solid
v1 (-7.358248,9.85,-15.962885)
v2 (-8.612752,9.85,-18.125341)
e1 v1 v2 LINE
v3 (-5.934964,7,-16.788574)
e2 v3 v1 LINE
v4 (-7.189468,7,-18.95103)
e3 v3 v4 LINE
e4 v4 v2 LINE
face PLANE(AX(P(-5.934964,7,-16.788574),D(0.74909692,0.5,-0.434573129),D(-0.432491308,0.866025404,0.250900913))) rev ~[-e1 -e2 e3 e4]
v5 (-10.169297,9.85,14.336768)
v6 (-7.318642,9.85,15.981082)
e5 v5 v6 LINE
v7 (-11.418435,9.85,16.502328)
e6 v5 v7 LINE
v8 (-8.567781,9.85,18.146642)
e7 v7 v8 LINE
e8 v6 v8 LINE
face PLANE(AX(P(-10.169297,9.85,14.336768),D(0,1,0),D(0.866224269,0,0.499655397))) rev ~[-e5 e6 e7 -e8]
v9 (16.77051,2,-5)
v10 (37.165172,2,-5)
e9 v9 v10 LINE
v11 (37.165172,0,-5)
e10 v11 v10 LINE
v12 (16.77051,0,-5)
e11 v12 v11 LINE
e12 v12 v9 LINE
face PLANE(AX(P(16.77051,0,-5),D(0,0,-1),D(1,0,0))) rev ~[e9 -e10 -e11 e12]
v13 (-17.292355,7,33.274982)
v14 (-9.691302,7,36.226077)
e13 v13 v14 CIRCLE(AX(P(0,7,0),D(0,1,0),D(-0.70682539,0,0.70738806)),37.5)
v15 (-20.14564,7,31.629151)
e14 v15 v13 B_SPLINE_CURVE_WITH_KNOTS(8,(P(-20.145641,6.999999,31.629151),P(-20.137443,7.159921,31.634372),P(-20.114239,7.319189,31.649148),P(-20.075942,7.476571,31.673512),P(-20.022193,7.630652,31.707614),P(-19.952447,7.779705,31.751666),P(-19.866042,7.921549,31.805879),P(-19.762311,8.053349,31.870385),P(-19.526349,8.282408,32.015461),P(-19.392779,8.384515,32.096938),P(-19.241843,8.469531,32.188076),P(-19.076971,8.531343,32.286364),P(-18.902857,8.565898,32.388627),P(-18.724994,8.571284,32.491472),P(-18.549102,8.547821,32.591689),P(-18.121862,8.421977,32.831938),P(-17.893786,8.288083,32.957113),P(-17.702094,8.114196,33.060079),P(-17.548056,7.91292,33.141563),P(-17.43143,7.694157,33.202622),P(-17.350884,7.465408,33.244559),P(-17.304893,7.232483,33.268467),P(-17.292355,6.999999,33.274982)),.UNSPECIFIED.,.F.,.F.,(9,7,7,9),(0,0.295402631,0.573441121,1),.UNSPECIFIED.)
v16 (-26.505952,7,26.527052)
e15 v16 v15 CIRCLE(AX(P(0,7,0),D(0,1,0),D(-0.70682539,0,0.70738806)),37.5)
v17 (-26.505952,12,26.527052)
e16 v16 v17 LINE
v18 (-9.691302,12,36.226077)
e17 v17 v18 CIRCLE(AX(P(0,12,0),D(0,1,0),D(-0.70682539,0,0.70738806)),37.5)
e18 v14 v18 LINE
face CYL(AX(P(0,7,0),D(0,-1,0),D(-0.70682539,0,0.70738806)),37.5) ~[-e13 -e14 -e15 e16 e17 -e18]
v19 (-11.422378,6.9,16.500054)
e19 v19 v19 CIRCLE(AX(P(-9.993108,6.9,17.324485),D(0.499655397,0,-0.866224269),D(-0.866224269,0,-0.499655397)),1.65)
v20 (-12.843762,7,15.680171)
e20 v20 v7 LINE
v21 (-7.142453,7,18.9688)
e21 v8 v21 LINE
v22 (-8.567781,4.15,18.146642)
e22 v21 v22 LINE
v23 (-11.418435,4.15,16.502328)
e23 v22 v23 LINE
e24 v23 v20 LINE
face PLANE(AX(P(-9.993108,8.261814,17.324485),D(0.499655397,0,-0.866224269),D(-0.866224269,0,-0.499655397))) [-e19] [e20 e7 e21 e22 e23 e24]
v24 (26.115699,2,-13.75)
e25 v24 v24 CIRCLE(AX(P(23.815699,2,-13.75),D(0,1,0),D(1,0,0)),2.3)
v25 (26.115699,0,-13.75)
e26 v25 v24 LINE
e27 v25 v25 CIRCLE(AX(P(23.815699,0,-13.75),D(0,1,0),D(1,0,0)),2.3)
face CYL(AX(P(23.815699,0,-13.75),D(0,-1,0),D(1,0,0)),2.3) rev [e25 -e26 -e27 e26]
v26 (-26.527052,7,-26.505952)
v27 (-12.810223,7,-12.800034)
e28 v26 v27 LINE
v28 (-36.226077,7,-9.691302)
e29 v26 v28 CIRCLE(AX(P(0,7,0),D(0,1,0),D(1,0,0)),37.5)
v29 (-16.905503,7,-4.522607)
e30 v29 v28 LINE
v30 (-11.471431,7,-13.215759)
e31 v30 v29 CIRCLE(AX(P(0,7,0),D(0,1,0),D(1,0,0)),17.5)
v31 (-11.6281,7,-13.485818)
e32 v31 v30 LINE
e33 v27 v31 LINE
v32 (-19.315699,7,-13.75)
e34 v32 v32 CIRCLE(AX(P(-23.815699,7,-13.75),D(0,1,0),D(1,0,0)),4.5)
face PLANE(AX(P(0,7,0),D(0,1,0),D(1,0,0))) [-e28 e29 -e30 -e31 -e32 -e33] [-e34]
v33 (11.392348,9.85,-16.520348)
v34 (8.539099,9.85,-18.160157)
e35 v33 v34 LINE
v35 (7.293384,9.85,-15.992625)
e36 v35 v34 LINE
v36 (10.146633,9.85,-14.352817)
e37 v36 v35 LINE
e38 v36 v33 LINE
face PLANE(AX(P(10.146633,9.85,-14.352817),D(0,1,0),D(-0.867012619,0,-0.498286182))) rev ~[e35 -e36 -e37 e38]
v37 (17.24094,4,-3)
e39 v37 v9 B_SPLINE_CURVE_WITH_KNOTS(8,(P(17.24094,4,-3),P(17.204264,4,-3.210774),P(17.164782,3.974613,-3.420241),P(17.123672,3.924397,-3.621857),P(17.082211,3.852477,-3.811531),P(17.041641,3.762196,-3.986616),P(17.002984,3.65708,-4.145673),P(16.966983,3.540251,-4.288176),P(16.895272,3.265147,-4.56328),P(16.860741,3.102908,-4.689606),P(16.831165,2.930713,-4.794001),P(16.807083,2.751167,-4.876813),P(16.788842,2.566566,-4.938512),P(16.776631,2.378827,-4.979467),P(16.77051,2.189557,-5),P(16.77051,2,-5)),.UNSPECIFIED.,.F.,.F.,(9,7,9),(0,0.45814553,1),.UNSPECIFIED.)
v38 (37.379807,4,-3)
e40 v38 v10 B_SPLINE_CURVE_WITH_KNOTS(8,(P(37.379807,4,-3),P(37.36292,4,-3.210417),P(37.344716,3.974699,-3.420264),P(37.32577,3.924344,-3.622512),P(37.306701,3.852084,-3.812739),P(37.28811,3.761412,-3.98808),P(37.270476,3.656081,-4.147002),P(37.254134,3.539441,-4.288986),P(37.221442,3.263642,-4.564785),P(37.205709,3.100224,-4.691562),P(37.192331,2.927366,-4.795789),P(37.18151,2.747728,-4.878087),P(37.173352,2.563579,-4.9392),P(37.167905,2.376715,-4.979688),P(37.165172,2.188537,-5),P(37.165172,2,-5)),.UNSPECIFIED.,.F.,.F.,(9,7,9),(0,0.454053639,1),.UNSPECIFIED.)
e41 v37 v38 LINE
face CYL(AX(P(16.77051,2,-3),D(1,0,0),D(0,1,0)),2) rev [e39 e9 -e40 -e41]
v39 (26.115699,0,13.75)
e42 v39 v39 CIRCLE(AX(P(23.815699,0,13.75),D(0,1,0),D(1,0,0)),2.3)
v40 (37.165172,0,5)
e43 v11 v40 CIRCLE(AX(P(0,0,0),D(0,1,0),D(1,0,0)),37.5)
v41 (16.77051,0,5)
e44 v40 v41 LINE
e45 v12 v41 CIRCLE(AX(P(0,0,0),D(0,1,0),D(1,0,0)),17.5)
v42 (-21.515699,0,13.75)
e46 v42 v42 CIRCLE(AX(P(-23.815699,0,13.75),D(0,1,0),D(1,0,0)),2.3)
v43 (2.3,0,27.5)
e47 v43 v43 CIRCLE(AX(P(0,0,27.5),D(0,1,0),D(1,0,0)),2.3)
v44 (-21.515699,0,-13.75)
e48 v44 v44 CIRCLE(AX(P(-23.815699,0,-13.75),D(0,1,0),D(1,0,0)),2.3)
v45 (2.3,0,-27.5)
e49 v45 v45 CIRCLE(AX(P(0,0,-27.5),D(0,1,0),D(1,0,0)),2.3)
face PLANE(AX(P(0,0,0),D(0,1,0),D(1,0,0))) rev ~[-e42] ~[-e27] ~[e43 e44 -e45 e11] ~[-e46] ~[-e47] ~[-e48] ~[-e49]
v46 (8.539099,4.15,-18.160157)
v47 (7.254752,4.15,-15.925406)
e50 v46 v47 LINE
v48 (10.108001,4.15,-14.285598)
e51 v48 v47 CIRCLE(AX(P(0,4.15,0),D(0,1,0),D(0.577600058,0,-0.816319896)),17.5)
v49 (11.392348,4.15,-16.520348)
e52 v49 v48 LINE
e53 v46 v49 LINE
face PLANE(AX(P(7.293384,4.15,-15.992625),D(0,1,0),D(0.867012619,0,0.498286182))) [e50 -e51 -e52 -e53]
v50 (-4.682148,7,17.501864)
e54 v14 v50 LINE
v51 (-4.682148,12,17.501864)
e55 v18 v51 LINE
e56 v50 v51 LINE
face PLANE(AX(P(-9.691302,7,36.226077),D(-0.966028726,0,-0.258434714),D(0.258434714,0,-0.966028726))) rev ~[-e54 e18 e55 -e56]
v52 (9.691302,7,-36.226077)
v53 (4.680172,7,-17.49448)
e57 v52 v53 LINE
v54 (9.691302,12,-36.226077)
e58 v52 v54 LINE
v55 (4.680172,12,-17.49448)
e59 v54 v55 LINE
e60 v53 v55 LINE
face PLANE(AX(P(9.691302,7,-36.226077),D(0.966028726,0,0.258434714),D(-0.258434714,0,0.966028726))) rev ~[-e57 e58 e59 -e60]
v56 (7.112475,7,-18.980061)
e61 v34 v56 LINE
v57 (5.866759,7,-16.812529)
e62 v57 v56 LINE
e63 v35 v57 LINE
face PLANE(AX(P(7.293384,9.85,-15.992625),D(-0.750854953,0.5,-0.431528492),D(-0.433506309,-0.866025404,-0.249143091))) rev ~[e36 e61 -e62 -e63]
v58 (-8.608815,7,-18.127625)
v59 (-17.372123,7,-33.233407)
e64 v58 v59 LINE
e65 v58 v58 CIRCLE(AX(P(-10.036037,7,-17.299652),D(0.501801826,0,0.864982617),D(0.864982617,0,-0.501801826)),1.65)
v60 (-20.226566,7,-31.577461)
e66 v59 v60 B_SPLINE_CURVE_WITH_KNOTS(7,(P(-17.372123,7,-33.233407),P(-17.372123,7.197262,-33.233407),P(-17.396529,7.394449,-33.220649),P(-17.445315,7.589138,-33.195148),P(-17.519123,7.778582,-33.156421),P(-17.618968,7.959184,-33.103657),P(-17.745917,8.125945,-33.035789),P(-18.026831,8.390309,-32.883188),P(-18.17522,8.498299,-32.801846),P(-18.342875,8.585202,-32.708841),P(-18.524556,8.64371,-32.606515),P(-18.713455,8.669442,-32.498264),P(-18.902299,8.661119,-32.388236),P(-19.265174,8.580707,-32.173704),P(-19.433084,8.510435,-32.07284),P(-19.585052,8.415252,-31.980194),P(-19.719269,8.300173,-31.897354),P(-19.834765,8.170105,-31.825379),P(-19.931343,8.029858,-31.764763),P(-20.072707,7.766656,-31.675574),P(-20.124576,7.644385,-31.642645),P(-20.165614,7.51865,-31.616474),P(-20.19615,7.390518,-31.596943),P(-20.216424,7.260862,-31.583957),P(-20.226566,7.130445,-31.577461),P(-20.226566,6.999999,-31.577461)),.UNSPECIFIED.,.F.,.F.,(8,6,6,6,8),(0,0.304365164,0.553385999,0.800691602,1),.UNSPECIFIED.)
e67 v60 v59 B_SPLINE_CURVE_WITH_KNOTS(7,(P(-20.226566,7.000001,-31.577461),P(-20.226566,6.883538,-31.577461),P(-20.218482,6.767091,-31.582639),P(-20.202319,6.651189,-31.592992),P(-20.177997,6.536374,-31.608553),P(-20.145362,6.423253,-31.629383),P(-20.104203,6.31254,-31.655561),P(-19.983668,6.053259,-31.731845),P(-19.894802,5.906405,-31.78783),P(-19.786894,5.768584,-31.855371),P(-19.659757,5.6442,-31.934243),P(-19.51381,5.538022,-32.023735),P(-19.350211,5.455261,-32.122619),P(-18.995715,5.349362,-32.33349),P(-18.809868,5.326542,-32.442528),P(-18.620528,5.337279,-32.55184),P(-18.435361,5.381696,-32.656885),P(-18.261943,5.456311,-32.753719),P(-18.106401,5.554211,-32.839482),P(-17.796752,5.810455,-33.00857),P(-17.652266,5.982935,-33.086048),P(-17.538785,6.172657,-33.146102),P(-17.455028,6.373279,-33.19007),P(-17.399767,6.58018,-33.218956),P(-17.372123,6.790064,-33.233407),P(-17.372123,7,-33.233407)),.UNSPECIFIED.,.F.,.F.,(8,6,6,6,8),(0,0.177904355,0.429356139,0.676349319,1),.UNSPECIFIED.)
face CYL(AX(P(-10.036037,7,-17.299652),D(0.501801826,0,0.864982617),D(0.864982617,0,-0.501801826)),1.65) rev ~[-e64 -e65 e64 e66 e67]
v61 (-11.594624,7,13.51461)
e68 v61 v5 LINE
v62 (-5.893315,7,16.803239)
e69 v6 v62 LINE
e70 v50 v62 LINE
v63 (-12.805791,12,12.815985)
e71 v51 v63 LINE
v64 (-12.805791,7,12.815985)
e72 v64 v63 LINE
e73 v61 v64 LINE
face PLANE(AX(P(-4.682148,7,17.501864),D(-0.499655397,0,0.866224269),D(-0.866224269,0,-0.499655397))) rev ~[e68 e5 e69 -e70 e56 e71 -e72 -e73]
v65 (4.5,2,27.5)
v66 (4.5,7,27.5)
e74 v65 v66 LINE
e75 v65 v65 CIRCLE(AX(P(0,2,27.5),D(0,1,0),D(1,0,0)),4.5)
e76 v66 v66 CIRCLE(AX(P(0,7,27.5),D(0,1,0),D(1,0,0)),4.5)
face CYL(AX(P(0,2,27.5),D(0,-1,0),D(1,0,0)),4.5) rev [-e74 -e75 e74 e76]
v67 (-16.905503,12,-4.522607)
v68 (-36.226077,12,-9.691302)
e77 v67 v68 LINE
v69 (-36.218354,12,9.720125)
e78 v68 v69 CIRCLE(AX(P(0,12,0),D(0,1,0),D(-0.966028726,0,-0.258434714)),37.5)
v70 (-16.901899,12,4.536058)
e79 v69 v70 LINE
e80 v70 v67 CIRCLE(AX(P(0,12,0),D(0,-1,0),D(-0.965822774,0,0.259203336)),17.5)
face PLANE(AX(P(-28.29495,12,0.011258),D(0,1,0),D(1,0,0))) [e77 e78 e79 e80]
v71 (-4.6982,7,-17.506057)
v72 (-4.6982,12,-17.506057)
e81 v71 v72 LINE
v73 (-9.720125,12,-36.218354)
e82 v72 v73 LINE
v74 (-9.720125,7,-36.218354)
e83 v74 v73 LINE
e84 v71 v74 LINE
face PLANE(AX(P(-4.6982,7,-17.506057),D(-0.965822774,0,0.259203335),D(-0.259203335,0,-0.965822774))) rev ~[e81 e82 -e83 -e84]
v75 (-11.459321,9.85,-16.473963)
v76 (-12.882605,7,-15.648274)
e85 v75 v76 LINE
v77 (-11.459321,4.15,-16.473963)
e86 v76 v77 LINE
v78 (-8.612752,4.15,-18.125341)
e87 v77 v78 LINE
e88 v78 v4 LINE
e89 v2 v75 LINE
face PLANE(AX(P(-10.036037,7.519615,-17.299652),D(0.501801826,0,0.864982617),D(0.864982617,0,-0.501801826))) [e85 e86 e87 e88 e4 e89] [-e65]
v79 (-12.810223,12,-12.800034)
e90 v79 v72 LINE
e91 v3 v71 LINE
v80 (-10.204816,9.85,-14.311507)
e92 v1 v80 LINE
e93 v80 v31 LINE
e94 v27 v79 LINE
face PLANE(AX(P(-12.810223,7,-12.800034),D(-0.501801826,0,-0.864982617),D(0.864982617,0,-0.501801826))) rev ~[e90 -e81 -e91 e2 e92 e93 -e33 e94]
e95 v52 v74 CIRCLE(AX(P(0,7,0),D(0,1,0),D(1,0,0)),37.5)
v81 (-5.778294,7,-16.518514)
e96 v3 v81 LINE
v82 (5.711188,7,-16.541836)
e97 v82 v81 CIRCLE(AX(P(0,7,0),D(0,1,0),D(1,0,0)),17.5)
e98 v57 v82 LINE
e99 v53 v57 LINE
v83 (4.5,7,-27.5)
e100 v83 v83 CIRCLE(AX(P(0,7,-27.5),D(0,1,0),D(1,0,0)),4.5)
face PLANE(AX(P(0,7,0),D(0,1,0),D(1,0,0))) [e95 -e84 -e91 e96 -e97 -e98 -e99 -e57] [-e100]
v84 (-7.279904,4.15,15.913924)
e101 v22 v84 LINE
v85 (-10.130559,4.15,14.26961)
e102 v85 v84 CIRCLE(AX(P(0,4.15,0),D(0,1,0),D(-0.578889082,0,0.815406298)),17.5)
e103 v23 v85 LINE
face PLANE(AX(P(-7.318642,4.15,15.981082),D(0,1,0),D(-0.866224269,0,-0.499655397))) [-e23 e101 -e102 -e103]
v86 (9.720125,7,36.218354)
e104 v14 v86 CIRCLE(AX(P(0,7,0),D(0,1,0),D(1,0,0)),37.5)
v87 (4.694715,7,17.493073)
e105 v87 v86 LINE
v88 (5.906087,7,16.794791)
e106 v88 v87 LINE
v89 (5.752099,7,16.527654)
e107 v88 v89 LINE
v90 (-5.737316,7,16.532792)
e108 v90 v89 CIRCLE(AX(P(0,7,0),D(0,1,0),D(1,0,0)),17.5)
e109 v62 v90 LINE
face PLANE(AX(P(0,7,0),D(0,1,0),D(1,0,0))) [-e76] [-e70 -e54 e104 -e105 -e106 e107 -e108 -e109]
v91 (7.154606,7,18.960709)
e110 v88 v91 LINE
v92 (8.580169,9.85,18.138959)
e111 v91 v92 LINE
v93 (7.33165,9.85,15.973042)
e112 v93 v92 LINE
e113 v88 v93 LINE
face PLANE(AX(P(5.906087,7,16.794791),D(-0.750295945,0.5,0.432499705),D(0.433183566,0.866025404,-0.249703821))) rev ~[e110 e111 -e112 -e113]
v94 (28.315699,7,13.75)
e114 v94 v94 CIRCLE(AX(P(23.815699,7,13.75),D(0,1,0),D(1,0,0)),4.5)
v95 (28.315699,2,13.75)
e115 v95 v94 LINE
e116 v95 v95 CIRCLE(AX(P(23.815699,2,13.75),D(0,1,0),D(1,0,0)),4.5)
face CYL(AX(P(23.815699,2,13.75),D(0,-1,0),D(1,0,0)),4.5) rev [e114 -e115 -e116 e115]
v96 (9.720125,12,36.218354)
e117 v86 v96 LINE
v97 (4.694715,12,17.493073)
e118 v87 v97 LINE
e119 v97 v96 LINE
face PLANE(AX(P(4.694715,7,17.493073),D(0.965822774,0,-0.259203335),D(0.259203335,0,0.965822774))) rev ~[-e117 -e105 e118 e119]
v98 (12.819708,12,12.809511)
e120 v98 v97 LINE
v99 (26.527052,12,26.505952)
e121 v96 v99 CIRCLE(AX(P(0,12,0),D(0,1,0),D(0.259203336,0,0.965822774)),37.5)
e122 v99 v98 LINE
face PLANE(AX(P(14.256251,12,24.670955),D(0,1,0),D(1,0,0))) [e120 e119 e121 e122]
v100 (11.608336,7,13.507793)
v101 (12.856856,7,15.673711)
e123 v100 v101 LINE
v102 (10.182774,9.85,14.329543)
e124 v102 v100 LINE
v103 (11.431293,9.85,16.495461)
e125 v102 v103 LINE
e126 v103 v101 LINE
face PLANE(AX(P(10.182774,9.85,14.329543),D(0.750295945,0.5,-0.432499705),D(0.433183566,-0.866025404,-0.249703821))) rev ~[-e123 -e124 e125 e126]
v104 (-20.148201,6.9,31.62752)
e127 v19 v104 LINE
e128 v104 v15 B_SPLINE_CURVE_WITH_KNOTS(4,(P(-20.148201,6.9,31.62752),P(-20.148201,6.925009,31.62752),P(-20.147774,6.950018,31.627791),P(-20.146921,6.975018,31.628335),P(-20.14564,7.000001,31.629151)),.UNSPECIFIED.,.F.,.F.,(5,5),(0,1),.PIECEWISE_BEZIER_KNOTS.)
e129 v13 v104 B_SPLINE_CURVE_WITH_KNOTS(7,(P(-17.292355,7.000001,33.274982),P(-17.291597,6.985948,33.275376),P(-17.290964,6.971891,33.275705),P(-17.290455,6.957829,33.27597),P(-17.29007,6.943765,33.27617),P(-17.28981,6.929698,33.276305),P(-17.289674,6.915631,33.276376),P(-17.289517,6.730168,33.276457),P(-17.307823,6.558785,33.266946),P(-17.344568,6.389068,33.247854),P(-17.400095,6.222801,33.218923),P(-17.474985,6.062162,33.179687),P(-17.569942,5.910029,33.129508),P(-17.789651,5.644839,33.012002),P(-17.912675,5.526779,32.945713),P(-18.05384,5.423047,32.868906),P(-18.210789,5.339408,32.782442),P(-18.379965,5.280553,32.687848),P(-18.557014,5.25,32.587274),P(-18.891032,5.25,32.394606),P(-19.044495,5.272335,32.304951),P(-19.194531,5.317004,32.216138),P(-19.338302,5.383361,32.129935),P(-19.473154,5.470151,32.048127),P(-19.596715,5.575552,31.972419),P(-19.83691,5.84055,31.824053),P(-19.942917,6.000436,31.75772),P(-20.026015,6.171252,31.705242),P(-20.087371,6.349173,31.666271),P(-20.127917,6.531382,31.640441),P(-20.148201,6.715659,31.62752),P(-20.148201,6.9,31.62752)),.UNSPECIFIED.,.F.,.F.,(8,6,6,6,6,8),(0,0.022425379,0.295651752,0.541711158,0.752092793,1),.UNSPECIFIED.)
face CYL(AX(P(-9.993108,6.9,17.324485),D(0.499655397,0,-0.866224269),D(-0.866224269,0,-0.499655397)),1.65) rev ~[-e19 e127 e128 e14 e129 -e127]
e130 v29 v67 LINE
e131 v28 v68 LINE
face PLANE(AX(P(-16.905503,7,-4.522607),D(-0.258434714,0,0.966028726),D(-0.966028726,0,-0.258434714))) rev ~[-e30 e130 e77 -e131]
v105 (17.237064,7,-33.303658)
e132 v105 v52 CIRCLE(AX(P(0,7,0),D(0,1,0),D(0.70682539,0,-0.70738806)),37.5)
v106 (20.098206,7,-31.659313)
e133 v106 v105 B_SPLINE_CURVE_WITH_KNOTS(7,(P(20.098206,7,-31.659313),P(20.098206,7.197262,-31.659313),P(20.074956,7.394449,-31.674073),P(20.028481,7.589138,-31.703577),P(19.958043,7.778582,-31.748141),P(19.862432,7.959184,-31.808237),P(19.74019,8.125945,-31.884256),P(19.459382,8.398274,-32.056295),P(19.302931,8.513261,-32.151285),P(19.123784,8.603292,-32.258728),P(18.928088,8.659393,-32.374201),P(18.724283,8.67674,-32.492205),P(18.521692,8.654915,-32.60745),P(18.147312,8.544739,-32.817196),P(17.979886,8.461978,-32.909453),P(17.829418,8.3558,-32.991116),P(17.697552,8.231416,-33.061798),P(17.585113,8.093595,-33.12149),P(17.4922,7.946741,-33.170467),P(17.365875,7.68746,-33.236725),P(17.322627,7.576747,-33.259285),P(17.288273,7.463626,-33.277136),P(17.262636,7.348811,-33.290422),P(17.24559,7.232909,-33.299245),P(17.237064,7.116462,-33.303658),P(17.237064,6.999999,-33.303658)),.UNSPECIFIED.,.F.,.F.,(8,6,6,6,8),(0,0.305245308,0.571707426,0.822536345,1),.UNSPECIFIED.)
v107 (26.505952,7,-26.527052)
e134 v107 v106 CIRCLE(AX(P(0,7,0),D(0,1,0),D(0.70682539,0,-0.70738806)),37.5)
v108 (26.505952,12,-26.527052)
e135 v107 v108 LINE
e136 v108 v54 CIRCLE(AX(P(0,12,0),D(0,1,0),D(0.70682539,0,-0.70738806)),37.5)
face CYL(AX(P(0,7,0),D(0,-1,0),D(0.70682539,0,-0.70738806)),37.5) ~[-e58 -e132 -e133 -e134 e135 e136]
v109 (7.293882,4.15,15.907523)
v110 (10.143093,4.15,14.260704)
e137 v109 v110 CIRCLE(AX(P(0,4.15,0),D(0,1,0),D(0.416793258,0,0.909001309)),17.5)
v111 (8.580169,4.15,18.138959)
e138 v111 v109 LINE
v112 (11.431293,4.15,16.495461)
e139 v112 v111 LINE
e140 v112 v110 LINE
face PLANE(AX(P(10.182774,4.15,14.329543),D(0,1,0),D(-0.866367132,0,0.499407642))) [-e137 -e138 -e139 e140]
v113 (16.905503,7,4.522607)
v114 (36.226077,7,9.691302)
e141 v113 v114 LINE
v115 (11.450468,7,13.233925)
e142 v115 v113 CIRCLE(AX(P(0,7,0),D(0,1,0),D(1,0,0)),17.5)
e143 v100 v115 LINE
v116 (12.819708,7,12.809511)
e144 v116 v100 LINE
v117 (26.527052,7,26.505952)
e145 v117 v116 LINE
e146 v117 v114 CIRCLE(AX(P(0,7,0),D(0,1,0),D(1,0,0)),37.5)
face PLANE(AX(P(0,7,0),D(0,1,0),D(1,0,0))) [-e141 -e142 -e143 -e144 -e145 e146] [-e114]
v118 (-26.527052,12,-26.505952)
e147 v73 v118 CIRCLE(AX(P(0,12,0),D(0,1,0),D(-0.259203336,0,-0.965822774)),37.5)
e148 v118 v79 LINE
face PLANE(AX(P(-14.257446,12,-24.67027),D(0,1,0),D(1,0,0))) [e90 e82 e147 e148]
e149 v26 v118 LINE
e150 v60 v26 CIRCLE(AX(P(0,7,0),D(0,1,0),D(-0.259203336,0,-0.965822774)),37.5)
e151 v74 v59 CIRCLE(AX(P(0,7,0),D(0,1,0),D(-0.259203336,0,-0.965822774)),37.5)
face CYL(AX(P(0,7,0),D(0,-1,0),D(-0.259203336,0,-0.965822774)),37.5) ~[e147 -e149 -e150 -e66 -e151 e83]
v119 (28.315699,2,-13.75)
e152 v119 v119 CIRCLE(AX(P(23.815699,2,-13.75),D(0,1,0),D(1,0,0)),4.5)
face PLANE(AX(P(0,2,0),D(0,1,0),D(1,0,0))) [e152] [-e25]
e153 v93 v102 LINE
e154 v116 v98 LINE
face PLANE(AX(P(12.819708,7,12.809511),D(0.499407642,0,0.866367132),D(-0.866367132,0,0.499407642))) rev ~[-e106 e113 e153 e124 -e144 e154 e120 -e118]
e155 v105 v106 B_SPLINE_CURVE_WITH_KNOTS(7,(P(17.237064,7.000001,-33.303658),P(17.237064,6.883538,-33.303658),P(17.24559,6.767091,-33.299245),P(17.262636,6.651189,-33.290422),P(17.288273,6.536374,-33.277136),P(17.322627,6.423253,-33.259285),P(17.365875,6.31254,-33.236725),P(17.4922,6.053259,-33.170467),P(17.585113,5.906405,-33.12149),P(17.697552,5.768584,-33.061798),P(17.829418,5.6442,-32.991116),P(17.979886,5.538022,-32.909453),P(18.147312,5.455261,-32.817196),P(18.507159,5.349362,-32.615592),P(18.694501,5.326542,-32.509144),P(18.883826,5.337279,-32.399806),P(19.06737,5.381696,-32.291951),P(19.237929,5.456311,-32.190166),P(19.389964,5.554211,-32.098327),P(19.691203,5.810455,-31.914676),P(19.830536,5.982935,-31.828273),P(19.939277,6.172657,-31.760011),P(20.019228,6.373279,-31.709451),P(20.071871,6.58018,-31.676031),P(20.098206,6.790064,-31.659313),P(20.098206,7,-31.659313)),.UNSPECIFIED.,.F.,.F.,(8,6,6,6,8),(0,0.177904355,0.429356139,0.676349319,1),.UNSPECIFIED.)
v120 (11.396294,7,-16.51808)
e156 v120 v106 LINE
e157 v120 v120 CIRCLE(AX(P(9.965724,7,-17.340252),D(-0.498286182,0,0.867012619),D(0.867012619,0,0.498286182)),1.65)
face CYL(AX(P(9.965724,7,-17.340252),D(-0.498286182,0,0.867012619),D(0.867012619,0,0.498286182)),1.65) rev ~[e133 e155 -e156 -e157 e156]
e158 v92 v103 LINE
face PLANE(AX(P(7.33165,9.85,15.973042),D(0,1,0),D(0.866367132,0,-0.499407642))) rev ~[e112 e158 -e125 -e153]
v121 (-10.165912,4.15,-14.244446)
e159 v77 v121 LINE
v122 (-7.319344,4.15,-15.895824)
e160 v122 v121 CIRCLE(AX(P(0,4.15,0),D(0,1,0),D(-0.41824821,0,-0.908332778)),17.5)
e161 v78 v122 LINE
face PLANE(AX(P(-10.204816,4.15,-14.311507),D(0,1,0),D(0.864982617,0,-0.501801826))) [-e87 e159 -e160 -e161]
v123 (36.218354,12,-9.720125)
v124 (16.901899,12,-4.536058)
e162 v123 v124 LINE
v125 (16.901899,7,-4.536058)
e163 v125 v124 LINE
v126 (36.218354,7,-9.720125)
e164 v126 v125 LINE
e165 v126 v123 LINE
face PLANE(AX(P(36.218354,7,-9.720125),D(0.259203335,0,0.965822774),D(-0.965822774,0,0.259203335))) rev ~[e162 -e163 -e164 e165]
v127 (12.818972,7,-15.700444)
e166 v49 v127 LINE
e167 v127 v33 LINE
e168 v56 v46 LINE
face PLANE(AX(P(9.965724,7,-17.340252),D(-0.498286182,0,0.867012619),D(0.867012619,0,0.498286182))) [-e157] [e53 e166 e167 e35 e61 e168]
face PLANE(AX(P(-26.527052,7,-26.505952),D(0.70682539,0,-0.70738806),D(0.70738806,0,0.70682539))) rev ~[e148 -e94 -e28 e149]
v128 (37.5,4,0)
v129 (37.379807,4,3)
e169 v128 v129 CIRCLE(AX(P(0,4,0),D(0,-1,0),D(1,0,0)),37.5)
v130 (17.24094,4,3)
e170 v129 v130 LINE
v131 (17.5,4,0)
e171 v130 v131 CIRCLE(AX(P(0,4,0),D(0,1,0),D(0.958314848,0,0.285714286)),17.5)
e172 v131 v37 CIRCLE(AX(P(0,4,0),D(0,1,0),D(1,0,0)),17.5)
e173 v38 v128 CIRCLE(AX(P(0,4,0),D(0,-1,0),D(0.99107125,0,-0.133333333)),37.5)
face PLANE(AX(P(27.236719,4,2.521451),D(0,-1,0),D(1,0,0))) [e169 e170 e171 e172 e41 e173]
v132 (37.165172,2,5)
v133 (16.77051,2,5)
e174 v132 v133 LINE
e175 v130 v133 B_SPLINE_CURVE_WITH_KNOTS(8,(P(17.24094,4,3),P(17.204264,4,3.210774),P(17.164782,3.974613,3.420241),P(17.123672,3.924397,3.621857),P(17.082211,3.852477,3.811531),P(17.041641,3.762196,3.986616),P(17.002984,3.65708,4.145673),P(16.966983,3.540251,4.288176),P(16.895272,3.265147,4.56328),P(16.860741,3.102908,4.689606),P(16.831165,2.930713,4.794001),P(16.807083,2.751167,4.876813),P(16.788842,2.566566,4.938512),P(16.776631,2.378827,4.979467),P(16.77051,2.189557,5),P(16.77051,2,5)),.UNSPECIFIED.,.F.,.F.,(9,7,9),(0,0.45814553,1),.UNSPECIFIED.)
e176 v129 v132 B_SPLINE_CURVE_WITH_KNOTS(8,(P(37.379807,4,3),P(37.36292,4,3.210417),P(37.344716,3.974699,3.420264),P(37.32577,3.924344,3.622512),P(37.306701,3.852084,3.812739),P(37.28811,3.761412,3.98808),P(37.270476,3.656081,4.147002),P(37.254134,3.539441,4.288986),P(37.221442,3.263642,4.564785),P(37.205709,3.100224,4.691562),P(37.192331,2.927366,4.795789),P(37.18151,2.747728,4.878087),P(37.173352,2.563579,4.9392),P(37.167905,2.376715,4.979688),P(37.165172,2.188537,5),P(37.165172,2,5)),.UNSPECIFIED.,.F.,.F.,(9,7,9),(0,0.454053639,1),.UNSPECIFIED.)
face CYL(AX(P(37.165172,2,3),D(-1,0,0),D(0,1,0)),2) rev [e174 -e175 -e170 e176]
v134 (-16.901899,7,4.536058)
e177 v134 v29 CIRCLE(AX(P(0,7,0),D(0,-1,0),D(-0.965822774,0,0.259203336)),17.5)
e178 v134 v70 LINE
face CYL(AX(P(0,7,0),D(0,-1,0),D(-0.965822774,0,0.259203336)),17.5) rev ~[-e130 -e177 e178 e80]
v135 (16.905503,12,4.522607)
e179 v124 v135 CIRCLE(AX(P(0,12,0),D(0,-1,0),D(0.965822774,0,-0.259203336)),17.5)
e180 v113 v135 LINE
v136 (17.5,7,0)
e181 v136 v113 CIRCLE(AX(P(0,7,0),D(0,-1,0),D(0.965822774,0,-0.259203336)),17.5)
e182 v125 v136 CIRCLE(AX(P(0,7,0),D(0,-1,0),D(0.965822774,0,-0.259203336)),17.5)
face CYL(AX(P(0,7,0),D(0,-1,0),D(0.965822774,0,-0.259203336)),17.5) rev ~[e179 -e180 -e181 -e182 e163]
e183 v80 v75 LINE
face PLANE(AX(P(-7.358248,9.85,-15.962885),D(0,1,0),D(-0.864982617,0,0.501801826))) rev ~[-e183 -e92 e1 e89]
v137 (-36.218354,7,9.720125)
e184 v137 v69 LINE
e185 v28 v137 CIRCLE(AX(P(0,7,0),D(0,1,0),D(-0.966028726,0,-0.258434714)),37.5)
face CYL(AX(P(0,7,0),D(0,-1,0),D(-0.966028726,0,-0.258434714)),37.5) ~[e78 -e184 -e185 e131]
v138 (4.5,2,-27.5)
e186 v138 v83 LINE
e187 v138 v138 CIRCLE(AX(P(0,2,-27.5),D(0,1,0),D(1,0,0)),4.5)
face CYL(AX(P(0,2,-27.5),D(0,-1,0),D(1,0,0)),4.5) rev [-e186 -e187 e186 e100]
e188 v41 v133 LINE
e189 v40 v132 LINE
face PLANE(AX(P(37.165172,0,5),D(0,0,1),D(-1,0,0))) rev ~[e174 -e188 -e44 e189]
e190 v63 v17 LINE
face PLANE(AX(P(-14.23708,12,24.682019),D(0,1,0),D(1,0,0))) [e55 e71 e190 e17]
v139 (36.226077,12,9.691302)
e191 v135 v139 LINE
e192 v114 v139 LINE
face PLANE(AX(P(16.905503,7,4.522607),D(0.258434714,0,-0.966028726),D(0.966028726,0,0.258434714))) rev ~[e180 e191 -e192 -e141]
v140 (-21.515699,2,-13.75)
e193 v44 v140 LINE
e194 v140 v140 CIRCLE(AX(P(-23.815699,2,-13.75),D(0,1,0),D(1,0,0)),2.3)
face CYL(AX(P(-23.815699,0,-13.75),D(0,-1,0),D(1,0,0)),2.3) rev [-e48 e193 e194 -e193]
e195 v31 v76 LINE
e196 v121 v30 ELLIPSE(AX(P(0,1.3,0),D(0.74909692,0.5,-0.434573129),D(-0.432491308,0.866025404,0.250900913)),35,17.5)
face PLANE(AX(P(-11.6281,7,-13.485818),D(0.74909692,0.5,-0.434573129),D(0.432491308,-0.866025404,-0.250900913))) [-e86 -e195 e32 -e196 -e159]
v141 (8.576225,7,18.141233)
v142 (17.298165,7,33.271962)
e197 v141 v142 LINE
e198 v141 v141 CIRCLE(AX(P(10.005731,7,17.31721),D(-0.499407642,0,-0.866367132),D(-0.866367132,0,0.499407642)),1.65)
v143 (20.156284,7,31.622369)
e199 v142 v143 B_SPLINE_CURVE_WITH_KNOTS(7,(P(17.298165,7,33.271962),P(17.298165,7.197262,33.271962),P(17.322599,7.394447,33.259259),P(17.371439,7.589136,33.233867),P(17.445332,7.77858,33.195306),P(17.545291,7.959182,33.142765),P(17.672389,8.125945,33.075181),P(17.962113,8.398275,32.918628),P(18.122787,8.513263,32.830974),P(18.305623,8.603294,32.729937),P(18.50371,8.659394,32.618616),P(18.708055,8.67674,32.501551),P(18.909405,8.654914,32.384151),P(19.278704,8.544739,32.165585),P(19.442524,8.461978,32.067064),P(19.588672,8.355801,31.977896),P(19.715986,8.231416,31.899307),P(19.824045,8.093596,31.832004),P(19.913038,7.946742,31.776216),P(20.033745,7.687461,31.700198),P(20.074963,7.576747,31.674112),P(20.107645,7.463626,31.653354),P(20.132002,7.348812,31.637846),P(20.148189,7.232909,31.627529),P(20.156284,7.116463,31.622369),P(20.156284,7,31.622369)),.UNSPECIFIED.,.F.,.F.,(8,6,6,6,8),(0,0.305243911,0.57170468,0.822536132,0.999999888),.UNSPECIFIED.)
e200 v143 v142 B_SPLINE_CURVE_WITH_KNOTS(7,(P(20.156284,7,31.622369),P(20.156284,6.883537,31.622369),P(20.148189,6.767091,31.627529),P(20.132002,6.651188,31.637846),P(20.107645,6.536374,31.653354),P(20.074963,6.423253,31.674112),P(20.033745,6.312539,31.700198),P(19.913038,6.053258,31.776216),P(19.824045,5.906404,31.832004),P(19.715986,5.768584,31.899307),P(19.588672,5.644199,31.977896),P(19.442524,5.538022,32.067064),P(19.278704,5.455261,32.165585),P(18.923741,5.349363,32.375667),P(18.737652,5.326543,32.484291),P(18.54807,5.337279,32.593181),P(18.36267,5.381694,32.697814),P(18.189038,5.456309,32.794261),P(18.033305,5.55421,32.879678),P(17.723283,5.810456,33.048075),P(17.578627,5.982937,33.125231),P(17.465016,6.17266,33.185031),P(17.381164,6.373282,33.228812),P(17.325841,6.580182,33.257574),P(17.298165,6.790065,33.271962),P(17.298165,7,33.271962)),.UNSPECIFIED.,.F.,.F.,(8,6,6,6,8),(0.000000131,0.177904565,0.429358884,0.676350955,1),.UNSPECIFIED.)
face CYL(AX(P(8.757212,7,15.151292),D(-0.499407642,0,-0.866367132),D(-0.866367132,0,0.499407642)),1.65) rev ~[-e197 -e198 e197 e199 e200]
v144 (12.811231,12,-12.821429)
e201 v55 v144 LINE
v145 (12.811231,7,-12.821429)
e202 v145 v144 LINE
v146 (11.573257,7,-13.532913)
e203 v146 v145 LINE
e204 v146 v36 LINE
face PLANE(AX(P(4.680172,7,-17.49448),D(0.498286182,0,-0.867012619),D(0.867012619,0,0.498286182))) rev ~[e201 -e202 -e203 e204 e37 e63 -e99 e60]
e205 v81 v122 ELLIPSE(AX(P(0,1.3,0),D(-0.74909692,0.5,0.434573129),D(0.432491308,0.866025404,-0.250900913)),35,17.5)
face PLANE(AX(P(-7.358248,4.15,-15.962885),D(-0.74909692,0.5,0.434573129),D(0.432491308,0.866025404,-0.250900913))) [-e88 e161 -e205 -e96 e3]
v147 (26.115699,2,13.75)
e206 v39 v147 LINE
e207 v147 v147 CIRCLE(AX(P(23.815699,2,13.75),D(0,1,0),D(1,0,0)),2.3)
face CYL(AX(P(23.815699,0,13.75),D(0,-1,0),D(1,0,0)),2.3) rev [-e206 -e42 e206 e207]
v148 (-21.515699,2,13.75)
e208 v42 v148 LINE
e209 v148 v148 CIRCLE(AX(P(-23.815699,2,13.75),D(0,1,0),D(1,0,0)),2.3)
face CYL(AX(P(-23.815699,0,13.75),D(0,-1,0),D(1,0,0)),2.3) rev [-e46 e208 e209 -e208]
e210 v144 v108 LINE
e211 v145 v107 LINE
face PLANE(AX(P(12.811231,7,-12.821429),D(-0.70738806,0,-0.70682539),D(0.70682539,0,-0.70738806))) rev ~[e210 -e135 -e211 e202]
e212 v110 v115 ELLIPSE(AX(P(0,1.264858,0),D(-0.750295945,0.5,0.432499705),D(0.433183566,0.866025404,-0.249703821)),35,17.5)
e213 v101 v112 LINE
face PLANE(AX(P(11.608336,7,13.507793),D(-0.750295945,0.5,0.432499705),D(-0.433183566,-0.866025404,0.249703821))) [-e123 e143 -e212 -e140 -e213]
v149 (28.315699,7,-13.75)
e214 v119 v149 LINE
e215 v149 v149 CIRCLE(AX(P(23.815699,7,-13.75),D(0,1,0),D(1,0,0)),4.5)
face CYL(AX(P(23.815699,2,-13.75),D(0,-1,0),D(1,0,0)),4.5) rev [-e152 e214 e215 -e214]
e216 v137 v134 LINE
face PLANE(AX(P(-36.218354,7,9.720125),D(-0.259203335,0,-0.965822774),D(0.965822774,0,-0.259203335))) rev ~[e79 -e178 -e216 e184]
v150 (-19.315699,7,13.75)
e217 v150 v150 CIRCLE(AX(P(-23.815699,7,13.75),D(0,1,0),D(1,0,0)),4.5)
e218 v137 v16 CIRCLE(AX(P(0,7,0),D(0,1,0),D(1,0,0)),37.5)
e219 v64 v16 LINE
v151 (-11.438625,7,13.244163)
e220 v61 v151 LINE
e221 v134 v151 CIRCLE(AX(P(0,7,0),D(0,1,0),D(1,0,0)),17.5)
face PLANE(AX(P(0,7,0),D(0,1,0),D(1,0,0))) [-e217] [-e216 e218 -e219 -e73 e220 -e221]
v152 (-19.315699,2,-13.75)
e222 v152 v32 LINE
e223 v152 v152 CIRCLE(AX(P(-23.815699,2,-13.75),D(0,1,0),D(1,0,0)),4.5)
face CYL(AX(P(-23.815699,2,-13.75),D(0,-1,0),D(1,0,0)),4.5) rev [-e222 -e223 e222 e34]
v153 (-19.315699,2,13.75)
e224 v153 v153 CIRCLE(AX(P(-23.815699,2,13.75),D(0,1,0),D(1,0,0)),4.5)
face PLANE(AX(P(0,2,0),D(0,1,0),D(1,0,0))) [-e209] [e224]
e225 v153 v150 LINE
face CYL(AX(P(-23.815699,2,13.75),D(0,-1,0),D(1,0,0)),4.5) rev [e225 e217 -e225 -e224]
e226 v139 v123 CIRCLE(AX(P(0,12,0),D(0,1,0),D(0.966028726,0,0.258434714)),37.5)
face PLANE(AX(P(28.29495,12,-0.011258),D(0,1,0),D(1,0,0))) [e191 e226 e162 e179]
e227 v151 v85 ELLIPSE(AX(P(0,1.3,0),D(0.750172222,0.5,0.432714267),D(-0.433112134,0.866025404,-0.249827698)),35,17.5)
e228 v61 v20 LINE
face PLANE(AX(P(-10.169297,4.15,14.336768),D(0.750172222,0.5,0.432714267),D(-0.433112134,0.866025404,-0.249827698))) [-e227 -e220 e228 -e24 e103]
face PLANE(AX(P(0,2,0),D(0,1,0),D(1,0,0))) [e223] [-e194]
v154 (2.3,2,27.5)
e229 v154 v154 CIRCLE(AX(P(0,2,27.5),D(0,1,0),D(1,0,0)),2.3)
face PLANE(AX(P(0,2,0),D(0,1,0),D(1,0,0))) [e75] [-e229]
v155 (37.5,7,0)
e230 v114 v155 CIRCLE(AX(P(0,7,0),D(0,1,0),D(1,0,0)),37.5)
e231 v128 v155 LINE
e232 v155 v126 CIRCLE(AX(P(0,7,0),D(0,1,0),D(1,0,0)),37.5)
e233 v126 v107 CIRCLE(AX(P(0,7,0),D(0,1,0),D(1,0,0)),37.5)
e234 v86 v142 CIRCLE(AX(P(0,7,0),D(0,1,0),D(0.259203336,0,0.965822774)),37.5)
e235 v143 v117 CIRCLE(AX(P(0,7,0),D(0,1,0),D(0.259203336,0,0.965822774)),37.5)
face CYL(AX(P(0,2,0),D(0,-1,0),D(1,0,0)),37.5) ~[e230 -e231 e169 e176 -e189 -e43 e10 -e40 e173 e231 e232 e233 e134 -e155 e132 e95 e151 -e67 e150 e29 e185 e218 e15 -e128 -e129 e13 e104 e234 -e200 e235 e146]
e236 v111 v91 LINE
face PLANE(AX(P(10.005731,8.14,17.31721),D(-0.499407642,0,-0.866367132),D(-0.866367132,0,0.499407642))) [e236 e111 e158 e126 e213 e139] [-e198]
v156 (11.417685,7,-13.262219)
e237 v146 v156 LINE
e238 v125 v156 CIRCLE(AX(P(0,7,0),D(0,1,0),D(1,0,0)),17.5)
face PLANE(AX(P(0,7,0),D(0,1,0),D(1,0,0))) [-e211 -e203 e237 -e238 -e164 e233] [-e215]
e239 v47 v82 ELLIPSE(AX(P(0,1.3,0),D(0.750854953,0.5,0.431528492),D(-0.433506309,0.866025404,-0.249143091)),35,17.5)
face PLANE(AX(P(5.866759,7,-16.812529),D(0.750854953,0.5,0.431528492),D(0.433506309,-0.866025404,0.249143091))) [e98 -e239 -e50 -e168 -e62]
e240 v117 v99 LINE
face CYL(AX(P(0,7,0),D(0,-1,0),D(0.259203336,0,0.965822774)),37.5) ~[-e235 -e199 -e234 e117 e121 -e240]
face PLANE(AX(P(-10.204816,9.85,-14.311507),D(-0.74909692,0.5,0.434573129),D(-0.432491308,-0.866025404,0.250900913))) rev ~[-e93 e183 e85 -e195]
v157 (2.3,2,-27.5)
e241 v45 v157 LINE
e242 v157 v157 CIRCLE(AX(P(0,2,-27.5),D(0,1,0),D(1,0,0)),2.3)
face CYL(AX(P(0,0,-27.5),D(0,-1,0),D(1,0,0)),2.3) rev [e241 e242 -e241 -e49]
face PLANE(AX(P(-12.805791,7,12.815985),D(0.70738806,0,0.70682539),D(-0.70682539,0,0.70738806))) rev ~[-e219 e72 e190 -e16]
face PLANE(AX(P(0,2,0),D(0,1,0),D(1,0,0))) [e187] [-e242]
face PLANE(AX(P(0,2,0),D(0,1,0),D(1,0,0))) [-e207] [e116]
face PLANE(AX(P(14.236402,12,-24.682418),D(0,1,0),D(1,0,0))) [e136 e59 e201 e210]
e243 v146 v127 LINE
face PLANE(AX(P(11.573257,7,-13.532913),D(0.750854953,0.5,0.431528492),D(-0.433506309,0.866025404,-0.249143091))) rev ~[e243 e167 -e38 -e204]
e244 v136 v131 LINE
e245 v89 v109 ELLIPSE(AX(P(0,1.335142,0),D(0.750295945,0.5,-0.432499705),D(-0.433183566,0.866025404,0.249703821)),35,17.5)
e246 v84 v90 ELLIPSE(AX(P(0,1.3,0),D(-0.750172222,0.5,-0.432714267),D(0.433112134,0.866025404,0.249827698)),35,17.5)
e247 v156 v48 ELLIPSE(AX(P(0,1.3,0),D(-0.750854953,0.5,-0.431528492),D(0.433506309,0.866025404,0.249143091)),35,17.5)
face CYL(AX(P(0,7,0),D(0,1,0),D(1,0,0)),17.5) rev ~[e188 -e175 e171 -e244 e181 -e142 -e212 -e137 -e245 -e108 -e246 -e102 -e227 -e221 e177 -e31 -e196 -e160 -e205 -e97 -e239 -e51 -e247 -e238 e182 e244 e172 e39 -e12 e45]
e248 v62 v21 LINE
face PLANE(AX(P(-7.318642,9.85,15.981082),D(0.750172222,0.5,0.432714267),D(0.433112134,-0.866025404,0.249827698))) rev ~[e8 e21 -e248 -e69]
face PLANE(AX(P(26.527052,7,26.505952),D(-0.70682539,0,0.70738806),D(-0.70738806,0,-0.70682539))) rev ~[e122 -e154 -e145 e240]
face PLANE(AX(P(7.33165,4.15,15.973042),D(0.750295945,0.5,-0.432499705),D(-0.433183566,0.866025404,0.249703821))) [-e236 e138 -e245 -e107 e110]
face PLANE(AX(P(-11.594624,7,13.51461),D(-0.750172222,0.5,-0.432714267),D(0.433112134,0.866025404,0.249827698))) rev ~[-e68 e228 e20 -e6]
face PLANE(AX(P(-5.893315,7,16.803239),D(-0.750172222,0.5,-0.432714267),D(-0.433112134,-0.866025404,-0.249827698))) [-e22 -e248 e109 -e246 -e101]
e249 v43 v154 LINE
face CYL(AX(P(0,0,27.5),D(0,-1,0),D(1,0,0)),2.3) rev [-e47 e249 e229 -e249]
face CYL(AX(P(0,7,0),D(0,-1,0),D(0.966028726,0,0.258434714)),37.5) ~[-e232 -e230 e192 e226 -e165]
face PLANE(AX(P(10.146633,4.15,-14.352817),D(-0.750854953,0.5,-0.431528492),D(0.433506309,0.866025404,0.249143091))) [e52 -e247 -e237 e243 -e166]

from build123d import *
from build123d.topology import SkipClean

# Parameters (mm, degrees)
SKETCH1_R                = 37.5
SKETCH1_R_2              = 2.3
BOSS_EXTRUDE1_DEPTH      = 2
SKETCH2_R                = 37.5
SKETCH2_R_2              = 4.5
BOSS_EXTRUDE2_DEPTH      = 5
BOSS_EXTRUDE3_DEPTH      = 5
CUT_EXTRUDE1_START       = -7
SKETCH4_R                = 17.5
CUT_EXTRUDE1_DEPTH       = 7
CUT_EXTRUDE2_DEPTH       = 7
CUT_EXTRUDE2_DEPTH_BACK  = 2.5
CUT_EXTRUDE4_DEPTH       = 3
CUT_EXTRUDE4_DEPTH_BACK  = 2.5
SKETCH10_R               = 1.65
CUT_EXTRUDE7_DEPTH       = 20
SKETCH9_R                = 1.65
CUT_EXTRUDE6_DEPTH       = 20
CUT_EXTRUDE8_DEPTH       = 4
CUT_EXTRUDE9_DEPTH       = 10
CUT_EXTRUDE9_DEPTH_BACK  = 2.5
SKETCH16_R               = 1.65
CUT_EXTRUDE10_DEPTH      = 20
CUT_EXTRUDE11_DEPTH      = 10
CUT_EXTRUDE11_DEPTH_BACK = 2.5
SKETCH18_R               = 1.65
CUT_EXTRUDE12_DEPTH      = 20
FILLET1_R                = 2


with BuildPart() as part:
    # Sketch1 → Boss-Extrude1 (new body)
    with BuildSketch(Plane(origin=(0, 0, 0), x_dir=(1, 0, 0), z_dir=(0, 1, 0))):
        Circle(SKETCH1_R)
        with Locations((0, 27.5)):
            Circle(SKETCH1_R_2, mode=Mode.SUBTRACT)
        with Locations((23.815698604, 13.75)):
            Circle(SKETCH1_R_2, mode=Mode.SUBTRACT)
        with Locations((23.815698604, -13.75)):
            Circle(SKETCH1_R_2, mode=Mode.SUBTRACT)
        with Locations((0, -27.5)):
            Circle(SKETCH1_R_2, mode=Mode.SUBTRACT)
        with Locations((-23.815698604, -13.75)):
            Circle(SKETCH1_R_2, mode=Mode.SUBTRACT)
        with Locations((-23.815698604, 13.75)):
            Circle(SKETCH1_R_2, mode=Mode.SUBTRACT)
    extrude(amount=BOSS_EXTRUDE1_DEPTH)

    # Sketch2 → Boss-Extrude2 (add)
    with BuildSketch(Plane(origin=(0, 2, 0), x_dir=(1, 0, 0), z_dir=(0, 1, 0))):
        Circle(SKETCH2_R)
        with Locations((-23.815698604, -13.75)):
            Circle(SKETCH2_R_2, mode=Mode.SUBTRACT)
        with Locations((0, -27.5)):
            Circle(SKETCH2_R_2, mode=Mode.SUBTRACT)
        with Locations((23.815698604, -13.75)):
            Circle(SKETCH2_R_2, mode=Mode.SUBTRACT)
        with Locations((-23.815698604, 13.75)):
            Circle(SKETCH2_R_2, mode=Mode.SUBTRACT)
        with Locations((23.815698604, 13.75)):
            Circle(SKETCH2_R_2, mode=Mode.SUBTRACT)
        with Locations((0, 27.5)):
            Circle(SKETCH2_R_2, mode=Mode.SUBTRACT)
    extrude(amount=BOSS_EXTRUDE2_DEPTH)

    # Sketch3 → Boss-Extrude3 (add)
    with BuildSketch(Plane(origin=(0, 7, 0), x_dir=(1, 0, 0), z_dir=(0, 1, 0))):
        with BuildLine():
            ThreePointArc((-16.901898546, -4.536058371), (-17.499998615, -0.006962688), (-16.905502698, 4.52260749))
            Line((-16.905502698, 4.52260749), (-36.226077211, 9.691301765))
            ThreePointArc((-36.226077211, 9.691301765), (-37.499997032, -0.014920046), (-36.218354027, -9.720125081))
            Line((-36.218354027, -9.720125081), (-16.901898546, -4.536058371))
        make_face()
        with BuildLine():
            ThreePointArc((-9.720125081, 36.218354027), (-18.762919655, 32.468490048), (-26.527052262, 26.50595213))
            Line((-26.527052262, 26.50595213), (-12.810223172, 12.800033673))
            Line((-12.810223172, 12.800033673), (-4.698199739, 17.506056765))
            Line((-4.698199739, 17.506056765), (-9.720125081, 36.218354027))
        make_face()
        with BuildLine():
            ThreePointArc((16.901898546, 4.536058371), (17.499998615, 0.006962688), (16.905502698, -4.52260749))
            Line((16.905502698, -4.52260749), (36.226077211, -9.691301765))
            ThreePointArc((36.226077211, -9.691301765), (37.499997032, 0.014920046), (36.218354027, 9.720125081))
            Line((36.218354027, 9.720125081), (16.901898546, 4.536058371))
        make_face()
        with BuildLine():
            Line((-12.805791077, -12.81598516), (-26.50595213, -26.527052262))
            ThreePointArc((-26.50595213, -26.527052262), (-18.737077377, -32.483410095), (-9.691301765, -36.226077211))
            Line((-9.691301765, -36.226077211), (-4.682147808, -17.501864262))
            Line((-4.682147808, -17.501864262), (-12.805791077, -12.81598516))
        make_face()
        with BuildLine():
            Line((4.680172315, 17.49447987), (12.811230656, 12.82142907))
            Line((12.811230656, 12.82142907), (26.50595213, 26.527052262))
            ThreePointArc((26.50595213, 26.527052262), (18.737077377, 32.483410095), (9.691301765, 36.226077211))
            Line((9.691301765, 36.226077211), (4.680172315, 17.49447987))
        make_face()
        with BuildLine():
            Line((12.819708432, -12.809511387), (4.694715176, -17.493072864))
            Line((4.694715176, -17.493072864), (9.720125081, -36.218354027))
            ThreePointArc((9.720125081, -36.218354027), (18.762919655, -32.468490048), (26.527052262, -26.50595213))
            Line((26.527052262, -26.50595213), (12.819708432, -12.809511387))
        make_face()
    extrude(amount=BOSS_EXTRUDE3_DEPTH)

    # Sketch4 → Cut-Extrude1 (cut)
    with SkipClean():  # the faces are left unmerged after this step: merging them gives an invalid solid
        with BuildSketch(Plane(origin=(0, 7, 0), x_dir=(1, 0, 0), z_dir=(0, 1, 0)).offset(CUT_EXTRUDE1_START)):
            Circle(SKETCH4_R)
        extrude(amount=CUT_EXTRUDE1_DEPTH, mode=Mode.SUBTRACT)

    # Sketch5 → Cut-Extrude2 (cut, two sides: drawn at the far end of the back side and taken through both)
    with SkipClean():  # the faces are left unmerged after this step: merging them gives an invalid solid
        with BuildSketch(Plane(origin=(-8.743969443, 0, 15.158924711), x_dir=(-0.8662242691872709, 0, -0.49965539671955755), z_dir=(0.49965539671955755, 0, -0.8662242691872709)).offset(-CUT_EXTRUDE2_DEPTH_BACK)):
            Polygon((-1.645448267, 9.85), (-3.290896534, 7), (-1.645448267, 4.15), (1.645448267, 4.15), (3.290896534, 7), (1.645448267, 9.85), align=None)
        extrude(amount=CUT_EXTRUDE2_DEPTH + CUT_EXTRUDE2_DEPTH_BACK, mode=Mode.SUBTRACT)

    # Sketch7 → Cut-Extrude4 (cut, two sides: drawn at the far end of the back side and taken through both)
    with SkipClean():  # the faces are left unmerged after this step: merging them gives an invalid solid
        with BuildSketch(Plane(origin=(8.739633736, 0, 15.161424807), x_dir=(-0.8663671318105545, 0, 0.49940764203038923), z_dir=(-0.49940764203038923, 0, -0.8663671318105545)).offset(-CUT_EXTRUDE4_DEPTH_BACK)):
            Polygon((-1.665737666, 9.85), (-3.311185933, 7), (-1.665737666, 4.15), (1.625158868, 4.15), (3.270607136, 7), (1.625158868, 9.85), align=None)
        extrude(amount=CUT_EXTRUDE4_DEPTH + CUT_EXTRUDE4_DEPTH_BACK, mode=Mode.SUBTRACT)

    # Sketch10 → Cut-Extrude7 (cut)
    with SkipClean():  # the faces are left unmerged after this step: merging them gives an invalid solid
        with BuildSketch(Plane(origin=(8.739633736, 0, 15.161424807), x_dir=(-0.8663671318105323, 0, 0.49940764203042776), z_dir=(-0.4994076420304278, 0, -0.8663671318105324))):
            with Locations((-0.020289399, 7)):
                Circle(SKETCH10_R)
        extrude(amount=-CUT_EXTRUDE7_DEPTH, mode=Mode.SUBTRACT)

    # Sketch9 → Cut-Extrude6 (cut)
    with SkipClean():  # the faces are left unmerged after this step: merging them gives an invalid solid
        with BuildSketch(Plane(origin=(-9.993107934, 0, 17.324485384), x_dir=(-0.866224269187271, 0, -0.4996553967195575), z_dir=(0.49965539671955744, 0, -0.8662242691872709))):
            with Locations((0, 6.9)):
                Circle(SKETCH9_R)
        extrude(amount=-CUT_EXTRUDE6_DEPTH, mode=Mode.SUBTRACT)

    # Sketch14 → Cut-Extrude8 (cut)
    with SkipClean():  # the faces are left unmerged after this step: merging them gives an invalid solid
        with BuildSketch(Plane.XZ):
            with BuildLine():
                Line((16.770509831, -5), (37.165171868, -5))
                ThreePointArc((37.165171868, -5), (37.5, 0), (37.165171868, 5))
                Line((37.165171868, 5), (16.770509831, 5))
                ThreePointArc((16.770509831, 5), (17.5, 0), (16.770509831, -5))
            make_face()
        extrude(amount=-CUT_EXTRUDE8_DEPTH, mode=Mode.SUBTRACT)

    # Sketch15 → Cut-Extrude9 (cut, two sides: drawn at the far end of the back side and taken through both)
    with SkipClean():  # the faces are left unmerged after this step: merging them gives an invalid solid
        with BuildSketch(Plane(origin=(-8.781531952, 0, -15.137195796), x_dir=(0.8649826169348818, 0, -0.5018018258241831), z_dir=(0.5018018258241831, 0, 0.8649826169348818)).offset(-CUT_EXTRUDE9_DEPTH_BACK)):
            Polygon((-1.645448267, 9.85), (-3.290896534, 7), (-1.645448267, 4.15), (1.645448267, 4.15), (3.290896534, 7), (1.645448267, 9.85), align=None)
        extrude(amount=CUT_EXTRUDE9_DEPTH + CUT_EXTRUDE9_DEPTH_BACK, mode=Mode.SUBTRACT)

    # Sketch16 → Cut-Extrude10 (cut)
    with SkipClean():  # the faces are left unmerged after this step: merging them gives an invalid solid
        with BuildSketch(Plane(origin=(-10.036036516, 0, -17.299652339), x_dir=(0.8649826169348817, 0, -0.5018018258241831), z_dir=(0.5018018258241831, 0, 0.8649826169348817))):
            with Locations((0, 7)):
                Circle(SKETCH16_R)
        extrude(amount=-CUT_EXTRUDE10_DEPTH, mode=Mode.SUBTRACT)

    # Sketch17 → Cut-Extrude11 (cut, two sides: drawn at the far end of the back side and taken through both)
    with SkipClean():  # the faces are left unmerged after this step: merging them gives an invalid solid
        with BuildSketch(Plane(origin=(8.720008177, 0, -15.17272083), x_dir=(0.8670126188794308, 0, 0.4982861815300832), z_dir=(-0.49828618153008314, 0, 0.8670126188794307)).offset(-CUT_EXTRUDE11_DEPTH_BACK)):
            Polygon((3.290896534, 7), (1.645448267, 9.85), (-1.645448267, 9.85), (-3.290896534, 7), (-1.645448267, 4.15), (1.645448267, 4.15), align=None)
        extrude(amount=CUT_EXTRUDE11_DEPTH + CUT_EXTRUDE11_DEPTH_BACK, mode=Mode.SUBTRACT)

    # Sketch18 → Cut-Extrude12 (cut)
    with SkipClean():  # the faces are left unmerged after this step: merging them gives an invalid solid
        with BuildSketch(Plane(origin=(9.965723631, 0, -17.340252378), x_dir=(0.8670126188794304, 0, 0.4982861815300839), z_dir=(-0.49828618153008386, 0, 0.8670126188794303))):
            with Locations((0, 7)):
                Circle(SKETCH18_R)
        extrude(amount=-CUT_EXTRUDE12_DEPTH, mode=Mode.SUBTRACT)

    # Fillet1
    fillet1_edges = [part.edges().sort_by_distance(p)[0] for p in [
        (26.96784085, 4, -5),
        (26.96784085, 4, 5),
    ]]
    fillet(fillet1_edges, radius=FILLET1_R)


solid = part.part
